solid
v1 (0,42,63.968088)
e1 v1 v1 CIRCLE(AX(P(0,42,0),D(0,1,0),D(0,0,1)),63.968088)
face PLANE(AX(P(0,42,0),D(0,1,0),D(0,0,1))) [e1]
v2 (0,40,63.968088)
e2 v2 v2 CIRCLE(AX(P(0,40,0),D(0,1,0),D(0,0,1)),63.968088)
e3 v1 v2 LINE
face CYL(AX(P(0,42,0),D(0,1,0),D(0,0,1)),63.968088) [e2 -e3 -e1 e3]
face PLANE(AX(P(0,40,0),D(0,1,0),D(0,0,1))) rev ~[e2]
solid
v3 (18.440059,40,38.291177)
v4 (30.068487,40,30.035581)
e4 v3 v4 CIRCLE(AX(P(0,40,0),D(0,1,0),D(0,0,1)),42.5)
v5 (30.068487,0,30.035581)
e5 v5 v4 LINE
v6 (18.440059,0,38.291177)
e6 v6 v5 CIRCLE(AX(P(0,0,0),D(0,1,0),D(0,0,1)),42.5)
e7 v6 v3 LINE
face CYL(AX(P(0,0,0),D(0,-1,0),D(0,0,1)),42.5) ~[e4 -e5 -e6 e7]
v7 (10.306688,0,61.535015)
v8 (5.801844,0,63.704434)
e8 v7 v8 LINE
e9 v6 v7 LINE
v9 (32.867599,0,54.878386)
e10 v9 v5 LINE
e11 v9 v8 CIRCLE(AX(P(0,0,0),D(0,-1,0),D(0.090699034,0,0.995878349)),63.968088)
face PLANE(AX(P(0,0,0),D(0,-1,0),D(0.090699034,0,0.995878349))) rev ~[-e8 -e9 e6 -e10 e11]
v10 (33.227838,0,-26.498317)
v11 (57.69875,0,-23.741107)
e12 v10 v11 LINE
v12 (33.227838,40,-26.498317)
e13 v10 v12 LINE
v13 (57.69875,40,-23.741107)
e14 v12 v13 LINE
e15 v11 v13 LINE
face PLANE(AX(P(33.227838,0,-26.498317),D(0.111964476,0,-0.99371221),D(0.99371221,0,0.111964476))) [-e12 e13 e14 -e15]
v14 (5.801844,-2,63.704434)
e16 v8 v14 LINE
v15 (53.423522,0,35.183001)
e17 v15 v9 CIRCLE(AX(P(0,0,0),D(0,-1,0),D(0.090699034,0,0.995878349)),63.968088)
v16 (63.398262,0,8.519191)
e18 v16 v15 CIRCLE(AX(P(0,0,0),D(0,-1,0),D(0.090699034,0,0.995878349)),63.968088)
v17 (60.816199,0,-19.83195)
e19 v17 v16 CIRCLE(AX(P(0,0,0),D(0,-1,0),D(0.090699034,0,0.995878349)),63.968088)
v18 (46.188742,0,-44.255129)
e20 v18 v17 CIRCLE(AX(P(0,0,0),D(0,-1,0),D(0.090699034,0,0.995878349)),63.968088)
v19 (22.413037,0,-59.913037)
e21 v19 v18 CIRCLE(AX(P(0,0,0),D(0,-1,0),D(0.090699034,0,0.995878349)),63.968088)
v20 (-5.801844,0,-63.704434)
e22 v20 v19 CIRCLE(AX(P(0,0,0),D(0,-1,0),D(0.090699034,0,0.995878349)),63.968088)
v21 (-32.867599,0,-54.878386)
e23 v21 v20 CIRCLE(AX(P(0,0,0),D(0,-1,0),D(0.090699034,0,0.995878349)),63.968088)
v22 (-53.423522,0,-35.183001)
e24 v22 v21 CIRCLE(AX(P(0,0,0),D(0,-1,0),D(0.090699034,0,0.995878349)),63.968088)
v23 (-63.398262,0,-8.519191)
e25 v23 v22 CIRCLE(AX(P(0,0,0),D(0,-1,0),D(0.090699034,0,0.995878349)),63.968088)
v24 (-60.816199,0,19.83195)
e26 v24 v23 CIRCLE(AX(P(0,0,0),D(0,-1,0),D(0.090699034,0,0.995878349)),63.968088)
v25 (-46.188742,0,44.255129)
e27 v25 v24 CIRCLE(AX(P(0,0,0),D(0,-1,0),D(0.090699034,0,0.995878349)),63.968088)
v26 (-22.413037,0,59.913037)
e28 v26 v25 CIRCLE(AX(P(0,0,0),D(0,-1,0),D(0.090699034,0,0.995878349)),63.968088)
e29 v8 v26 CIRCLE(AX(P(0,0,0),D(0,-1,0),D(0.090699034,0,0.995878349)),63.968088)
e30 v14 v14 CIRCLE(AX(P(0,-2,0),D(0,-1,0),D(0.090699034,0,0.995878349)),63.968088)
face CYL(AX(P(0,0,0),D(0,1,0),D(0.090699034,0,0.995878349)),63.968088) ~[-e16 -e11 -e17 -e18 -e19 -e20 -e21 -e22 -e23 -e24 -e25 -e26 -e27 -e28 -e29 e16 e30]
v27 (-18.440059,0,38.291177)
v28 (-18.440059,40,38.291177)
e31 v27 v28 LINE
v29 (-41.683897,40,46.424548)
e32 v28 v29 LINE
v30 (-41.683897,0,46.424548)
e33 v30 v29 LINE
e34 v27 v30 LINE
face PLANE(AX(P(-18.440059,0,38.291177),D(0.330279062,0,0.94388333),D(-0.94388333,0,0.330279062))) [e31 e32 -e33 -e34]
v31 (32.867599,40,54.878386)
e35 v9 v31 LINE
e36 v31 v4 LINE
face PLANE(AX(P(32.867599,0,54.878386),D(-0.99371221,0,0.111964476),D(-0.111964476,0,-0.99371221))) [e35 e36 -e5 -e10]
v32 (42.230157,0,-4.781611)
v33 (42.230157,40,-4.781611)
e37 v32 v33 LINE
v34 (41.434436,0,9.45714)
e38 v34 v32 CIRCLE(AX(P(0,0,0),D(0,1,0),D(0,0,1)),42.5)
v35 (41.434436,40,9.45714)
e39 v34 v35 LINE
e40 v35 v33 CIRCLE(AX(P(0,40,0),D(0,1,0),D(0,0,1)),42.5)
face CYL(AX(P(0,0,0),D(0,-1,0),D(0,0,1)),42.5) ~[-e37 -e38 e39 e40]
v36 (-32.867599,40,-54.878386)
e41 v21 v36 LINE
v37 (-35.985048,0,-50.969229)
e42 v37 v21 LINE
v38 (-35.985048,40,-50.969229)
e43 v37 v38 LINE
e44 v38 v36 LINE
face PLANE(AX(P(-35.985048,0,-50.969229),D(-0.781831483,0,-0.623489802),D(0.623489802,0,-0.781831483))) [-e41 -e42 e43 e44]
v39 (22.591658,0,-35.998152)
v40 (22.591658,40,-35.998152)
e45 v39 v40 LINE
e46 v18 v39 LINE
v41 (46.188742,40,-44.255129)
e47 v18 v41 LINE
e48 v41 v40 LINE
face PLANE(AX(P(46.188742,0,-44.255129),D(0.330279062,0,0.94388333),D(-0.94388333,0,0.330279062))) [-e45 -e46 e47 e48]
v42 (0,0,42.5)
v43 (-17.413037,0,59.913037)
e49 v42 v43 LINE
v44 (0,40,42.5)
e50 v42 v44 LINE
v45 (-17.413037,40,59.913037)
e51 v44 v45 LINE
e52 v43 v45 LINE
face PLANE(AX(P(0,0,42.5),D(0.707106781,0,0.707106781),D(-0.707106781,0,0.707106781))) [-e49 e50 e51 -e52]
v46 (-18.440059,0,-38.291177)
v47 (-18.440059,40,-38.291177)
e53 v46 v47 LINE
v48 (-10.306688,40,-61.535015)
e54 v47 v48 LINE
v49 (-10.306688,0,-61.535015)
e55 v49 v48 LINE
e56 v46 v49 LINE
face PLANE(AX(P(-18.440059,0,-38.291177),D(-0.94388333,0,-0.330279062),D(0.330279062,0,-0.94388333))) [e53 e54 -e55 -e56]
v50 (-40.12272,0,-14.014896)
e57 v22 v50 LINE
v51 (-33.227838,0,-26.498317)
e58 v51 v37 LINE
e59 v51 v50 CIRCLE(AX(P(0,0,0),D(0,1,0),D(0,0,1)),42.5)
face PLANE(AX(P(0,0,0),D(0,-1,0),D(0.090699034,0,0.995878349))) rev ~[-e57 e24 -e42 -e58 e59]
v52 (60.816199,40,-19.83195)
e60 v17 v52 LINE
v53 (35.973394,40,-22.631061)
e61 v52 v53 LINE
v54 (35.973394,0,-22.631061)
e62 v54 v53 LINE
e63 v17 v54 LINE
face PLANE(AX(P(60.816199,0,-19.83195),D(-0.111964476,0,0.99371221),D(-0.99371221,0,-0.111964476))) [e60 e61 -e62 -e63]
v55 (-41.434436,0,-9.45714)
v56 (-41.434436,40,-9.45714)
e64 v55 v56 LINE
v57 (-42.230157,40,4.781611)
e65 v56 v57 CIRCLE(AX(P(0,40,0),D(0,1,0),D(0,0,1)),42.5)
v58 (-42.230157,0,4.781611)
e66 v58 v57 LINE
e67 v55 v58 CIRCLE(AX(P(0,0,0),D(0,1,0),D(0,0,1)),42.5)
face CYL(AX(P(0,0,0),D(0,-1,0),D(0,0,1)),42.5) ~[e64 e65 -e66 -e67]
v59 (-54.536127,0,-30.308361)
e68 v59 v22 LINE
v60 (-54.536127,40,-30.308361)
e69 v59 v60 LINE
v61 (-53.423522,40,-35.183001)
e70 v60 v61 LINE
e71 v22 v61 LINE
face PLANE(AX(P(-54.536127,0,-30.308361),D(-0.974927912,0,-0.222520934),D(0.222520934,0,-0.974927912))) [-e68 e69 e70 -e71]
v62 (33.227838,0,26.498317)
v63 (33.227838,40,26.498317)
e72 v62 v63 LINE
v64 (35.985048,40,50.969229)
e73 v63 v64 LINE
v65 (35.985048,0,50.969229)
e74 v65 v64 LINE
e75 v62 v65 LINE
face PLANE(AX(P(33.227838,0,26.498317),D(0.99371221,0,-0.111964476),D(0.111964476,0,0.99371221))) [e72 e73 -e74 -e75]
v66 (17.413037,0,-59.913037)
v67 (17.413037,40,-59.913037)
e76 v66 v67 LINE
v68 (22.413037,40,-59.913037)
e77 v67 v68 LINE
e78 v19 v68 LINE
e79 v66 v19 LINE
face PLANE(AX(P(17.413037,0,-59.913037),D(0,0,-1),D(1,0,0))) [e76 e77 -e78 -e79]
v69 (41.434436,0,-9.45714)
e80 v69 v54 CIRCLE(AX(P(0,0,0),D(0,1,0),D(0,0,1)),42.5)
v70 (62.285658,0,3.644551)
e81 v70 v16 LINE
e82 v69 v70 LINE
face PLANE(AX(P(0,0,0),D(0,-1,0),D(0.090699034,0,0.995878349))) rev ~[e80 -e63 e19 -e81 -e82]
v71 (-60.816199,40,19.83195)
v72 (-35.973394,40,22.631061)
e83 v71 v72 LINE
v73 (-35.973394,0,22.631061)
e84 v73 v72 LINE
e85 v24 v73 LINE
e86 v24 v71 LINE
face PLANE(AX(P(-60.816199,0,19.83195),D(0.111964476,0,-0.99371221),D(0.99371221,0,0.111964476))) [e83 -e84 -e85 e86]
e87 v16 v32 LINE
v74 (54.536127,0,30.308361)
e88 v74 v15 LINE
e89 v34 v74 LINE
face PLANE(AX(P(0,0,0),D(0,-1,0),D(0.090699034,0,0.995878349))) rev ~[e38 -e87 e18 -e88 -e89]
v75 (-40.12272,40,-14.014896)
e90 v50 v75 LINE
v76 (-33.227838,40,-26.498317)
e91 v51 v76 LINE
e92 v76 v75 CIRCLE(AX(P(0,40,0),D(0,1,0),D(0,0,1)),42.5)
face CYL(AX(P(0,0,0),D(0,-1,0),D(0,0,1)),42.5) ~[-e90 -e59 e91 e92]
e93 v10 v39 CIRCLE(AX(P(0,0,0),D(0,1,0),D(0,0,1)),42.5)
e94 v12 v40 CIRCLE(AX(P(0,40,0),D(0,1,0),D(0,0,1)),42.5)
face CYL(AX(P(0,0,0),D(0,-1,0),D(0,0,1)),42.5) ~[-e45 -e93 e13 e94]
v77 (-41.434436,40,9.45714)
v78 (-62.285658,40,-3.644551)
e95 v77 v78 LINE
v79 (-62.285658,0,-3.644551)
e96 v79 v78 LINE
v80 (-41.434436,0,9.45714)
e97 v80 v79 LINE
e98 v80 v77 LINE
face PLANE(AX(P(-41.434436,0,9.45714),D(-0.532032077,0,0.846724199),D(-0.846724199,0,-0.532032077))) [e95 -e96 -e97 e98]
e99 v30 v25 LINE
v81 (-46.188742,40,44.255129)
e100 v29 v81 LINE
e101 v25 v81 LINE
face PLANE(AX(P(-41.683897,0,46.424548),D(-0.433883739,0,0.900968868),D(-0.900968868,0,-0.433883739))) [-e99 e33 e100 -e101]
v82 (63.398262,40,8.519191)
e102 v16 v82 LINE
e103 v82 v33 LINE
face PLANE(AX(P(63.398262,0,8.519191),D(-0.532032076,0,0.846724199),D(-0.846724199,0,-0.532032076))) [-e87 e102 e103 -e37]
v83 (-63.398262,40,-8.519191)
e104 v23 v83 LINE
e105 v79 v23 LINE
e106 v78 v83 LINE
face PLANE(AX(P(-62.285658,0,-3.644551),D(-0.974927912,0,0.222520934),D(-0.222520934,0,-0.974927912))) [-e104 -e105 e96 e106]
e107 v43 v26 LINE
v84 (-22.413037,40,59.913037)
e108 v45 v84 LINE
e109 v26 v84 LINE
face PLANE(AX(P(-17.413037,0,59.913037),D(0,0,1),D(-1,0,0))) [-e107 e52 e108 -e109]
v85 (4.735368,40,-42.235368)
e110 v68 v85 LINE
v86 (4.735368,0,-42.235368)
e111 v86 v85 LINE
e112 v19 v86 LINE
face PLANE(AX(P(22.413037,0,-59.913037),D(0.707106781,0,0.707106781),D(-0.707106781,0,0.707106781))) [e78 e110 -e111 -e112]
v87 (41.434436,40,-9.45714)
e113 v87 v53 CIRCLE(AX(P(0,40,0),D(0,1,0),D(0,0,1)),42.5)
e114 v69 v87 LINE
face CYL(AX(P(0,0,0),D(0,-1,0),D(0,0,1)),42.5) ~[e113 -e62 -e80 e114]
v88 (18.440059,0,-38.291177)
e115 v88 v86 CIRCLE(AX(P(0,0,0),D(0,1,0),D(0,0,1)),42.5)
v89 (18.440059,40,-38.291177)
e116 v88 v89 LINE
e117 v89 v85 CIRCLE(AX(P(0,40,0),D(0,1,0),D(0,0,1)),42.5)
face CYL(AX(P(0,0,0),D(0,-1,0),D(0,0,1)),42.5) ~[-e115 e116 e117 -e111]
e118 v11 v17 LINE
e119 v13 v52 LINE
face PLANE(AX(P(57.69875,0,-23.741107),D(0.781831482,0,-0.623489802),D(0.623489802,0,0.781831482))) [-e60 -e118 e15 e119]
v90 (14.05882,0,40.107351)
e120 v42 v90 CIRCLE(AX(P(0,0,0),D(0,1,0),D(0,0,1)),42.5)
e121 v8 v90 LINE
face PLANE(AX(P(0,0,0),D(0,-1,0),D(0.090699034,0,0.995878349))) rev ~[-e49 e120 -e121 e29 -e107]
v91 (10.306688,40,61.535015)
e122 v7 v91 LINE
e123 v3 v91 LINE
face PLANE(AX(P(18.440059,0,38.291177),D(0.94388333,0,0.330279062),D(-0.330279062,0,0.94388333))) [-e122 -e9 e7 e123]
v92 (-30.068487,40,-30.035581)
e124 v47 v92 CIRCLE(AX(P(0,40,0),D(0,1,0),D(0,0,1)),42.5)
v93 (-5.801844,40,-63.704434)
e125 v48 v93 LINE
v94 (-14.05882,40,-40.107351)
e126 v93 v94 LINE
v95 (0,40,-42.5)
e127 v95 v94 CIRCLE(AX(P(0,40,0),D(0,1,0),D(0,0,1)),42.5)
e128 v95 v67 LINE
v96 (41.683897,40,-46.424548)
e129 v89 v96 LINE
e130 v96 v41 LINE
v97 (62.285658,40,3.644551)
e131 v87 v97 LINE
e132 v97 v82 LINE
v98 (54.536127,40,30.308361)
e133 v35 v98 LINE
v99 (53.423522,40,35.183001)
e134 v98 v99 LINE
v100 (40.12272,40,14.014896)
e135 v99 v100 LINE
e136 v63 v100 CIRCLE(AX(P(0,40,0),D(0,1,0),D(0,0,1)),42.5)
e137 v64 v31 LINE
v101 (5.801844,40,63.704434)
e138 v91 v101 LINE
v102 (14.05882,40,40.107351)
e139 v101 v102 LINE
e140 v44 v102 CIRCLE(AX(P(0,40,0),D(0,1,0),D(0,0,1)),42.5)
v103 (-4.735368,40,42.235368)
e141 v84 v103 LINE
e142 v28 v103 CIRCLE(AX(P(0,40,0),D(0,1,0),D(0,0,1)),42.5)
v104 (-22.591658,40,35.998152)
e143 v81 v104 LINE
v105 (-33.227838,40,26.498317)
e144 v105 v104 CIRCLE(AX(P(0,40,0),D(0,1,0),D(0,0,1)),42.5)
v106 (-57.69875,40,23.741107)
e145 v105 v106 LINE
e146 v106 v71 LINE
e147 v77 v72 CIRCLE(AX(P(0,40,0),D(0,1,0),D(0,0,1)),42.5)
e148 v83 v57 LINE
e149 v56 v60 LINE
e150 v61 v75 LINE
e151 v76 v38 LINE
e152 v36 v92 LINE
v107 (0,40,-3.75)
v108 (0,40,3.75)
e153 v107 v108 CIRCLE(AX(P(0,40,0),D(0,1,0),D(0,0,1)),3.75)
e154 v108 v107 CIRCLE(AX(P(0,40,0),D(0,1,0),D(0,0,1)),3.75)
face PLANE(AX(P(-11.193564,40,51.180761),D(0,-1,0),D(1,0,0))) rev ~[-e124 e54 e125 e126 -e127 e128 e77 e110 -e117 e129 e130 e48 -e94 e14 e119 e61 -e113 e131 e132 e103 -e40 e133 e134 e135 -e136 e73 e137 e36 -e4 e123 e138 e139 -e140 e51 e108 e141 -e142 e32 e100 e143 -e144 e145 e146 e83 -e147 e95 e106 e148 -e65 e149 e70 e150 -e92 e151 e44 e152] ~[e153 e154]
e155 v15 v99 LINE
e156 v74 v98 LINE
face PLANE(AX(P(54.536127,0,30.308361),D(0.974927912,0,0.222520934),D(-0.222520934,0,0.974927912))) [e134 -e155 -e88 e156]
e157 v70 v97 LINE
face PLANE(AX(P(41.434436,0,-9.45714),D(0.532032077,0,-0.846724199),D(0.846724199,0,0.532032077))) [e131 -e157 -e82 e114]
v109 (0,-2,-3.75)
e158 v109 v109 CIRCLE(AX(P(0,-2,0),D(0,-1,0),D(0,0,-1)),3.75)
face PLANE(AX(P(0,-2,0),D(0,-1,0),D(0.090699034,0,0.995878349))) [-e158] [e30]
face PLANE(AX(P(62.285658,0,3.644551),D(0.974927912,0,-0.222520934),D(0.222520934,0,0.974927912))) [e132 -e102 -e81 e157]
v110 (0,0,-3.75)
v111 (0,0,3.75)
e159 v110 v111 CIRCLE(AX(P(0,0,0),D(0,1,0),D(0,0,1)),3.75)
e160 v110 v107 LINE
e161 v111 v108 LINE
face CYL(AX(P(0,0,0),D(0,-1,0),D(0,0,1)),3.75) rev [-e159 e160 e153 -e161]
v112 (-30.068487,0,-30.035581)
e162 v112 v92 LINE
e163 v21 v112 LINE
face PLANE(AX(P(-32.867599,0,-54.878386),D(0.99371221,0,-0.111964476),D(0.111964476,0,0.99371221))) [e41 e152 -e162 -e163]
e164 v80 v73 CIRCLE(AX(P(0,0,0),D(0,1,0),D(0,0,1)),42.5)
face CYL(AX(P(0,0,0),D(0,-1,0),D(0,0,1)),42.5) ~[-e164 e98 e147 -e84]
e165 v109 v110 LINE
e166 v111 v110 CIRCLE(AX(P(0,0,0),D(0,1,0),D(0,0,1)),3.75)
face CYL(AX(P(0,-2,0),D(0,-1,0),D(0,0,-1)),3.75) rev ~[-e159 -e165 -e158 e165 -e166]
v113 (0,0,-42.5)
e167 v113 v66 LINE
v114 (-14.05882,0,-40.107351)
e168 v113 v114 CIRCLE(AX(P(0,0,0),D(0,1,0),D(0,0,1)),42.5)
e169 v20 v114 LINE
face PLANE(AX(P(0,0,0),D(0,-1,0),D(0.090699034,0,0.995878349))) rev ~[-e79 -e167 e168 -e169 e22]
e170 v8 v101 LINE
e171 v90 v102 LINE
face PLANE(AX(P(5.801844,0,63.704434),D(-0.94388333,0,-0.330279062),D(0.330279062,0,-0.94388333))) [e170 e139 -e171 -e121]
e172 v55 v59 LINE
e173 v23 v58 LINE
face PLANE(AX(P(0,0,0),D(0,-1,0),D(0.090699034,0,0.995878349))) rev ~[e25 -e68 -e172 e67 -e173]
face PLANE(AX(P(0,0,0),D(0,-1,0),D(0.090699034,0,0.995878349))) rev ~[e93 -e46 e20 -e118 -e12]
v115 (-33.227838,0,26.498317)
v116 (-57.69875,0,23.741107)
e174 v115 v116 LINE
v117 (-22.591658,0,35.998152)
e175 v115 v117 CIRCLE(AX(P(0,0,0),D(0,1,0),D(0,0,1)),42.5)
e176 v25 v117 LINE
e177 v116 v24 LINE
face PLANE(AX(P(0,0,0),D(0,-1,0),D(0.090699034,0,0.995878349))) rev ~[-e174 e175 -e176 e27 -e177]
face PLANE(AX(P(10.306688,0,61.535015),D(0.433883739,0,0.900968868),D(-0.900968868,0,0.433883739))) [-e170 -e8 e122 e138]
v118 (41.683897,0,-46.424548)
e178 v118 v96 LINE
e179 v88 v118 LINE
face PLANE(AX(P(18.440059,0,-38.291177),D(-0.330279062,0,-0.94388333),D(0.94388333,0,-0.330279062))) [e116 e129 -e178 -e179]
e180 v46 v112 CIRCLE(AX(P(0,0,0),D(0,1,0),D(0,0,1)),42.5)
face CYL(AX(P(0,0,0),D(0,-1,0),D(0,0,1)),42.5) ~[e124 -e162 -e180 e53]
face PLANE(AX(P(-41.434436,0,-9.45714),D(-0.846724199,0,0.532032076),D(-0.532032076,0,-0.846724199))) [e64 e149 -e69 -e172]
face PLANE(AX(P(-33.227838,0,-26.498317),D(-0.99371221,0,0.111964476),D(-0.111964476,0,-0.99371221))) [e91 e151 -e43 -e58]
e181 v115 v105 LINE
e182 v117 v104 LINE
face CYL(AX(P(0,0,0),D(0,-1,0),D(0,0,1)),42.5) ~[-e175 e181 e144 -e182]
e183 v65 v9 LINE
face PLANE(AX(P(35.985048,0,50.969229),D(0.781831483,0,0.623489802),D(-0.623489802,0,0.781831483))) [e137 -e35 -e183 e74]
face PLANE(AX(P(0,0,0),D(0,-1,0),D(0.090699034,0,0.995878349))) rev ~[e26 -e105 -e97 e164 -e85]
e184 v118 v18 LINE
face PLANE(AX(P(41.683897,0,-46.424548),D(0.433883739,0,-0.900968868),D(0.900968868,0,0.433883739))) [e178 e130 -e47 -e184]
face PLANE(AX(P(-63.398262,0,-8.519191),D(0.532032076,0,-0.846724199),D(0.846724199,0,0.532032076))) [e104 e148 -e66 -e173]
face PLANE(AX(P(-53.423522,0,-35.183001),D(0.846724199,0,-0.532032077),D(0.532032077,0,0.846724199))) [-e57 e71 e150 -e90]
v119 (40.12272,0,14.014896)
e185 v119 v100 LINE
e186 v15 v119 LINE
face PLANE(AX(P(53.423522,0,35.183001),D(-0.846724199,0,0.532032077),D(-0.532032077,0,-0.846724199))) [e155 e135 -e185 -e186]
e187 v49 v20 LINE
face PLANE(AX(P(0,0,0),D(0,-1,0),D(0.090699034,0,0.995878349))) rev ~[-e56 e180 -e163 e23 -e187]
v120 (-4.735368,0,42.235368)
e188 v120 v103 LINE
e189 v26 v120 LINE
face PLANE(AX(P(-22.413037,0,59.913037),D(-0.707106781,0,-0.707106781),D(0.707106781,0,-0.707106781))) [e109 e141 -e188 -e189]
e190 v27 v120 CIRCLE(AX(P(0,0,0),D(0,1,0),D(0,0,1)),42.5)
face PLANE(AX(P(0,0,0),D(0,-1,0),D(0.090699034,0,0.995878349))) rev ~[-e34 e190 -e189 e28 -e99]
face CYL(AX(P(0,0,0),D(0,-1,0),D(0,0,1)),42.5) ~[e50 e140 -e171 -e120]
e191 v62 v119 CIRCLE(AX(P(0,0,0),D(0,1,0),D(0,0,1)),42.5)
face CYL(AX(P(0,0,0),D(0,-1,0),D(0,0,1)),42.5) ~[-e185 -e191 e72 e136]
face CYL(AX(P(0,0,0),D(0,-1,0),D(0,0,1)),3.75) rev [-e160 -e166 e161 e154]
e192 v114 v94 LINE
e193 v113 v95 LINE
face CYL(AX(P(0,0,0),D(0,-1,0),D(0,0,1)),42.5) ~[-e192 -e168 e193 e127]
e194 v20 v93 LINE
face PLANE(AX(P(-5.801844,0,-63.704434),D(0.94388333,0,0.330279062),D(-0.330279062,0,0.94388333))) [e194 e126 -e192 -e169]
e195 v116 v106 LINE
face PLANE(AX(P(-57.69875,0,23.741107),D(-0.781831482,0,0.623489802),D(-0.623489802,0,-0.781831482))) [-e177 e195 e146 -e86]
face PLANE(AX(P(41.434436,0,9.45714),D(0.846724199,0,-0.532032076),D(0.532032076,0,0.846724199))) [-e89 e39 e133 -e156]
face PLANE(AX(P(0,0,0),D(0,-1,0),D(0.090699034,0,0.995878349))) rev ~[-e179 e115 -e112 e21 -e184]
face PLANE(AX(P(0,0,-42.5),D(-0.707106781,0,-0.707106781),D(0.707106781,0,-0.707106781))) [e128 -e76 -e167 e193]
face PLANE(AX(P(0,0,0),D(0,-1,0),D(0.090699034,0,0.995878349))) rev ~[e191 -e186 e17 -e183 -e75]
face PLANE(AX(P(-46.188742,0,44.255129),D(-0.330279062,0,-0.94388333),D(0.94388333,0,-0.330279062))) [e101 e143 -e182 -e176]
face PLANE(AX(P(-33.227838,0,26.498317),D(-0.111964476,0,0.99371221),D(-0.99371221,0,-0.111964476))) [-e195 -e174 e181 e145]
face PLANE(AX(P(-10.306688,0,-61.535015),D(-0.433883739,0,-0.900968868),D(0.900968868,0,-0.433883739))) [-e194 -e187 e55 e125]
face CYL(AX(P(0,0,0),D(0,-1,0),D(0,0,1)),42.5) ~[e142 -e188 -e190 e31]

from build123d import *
from build123d.topology import SkipClean

# Parameters (mm, degrees)
SKETCH1_R           = 42.5
SKETCH1_R_2         = 3.75
BOSS_EXTRUDE1_DEPTH = 40
BOSS_EXTRUDE2_DEPTH = 40
SKETCH3_R           = 63.968087997
BOSS_EXTRUDE3_DEPTH = 2
BOSS_EXTRUDE4_START = 2
SKETCH4_R           = 63.968087997
BOSS_EXTRUDE4_DEPTH = 2
SKETCH6_R           = 3.75
CUT_EXTRUDE1_DEPTH  = 79


with BuildPart() as part:
    # Sketch1 → Boss-Extrude1 (new body)
    with BuildSketch(Plane(origin=(0, 0, 0), x_dir=(1, 0, 0), z_dir=(0, 1, 0))):
        with Locations(Location((0, 0, 0), (0, 0, 270))):
            Circle(SKETCH1_R)
        with Locations(Location((0, 0, 0), (0, 0, 270))):
            Circle(SKETCH1_R_2, mode=Mode.SUBTRACT)
    extrude(amount=BOSS_EXTRUDE1_DEPTH)

    # Sketch2 → Boss-Extrude2 (add)
    with BuildSketch(Plane.XZ):
        with BuildLine():
            Line((0, -42.5), (17.413037315, -59.913037315))
            Line((17.413037315, -59.913037315), (22.413037315, -59.913037315))
            Line((22.413037315, -59.913037315), (4.735367785, -42.235367785))
            ThreePointArc((4.735367785, -42.235367785), (2.3713782, -42.433790373), (0, -42.5))
        make_face()
        with BuildLine():
            Line((-18.440058912, -38.291176886), (-10.306688136, -61.535015142))
            Line((-10.306688136, -61.535015142), (-5.801843796, -63.704433837))
            Line((-5.801843796, -63.704433837), (-14.058820345, -40.107350579))
            ThreePointArc((-14.058820345, -40.107350579), (-16.2747937, -39.260426514), (-18.440058912, -38.291176886))
        make_face()
        with BuildLine():
            Line((-33.227838005, -26.498316579), (-35.985047598, -50.969228542))
            Line((-35.985047598, -50.969228542), (-32.867598589, -54.878385955))
            Line((-32.867598589, -54.878385955), (-30.068486686, -30.035580707))
            ThreePointArc((-30.068486686, -30.035580707), (-31.69754311, -28.311053685), (-33.227838005, -26.498316579))
        make_face()
        with BuildLine():
            Line((-41.434436268, -9.457139693), (-54.536127055, -30.308361133))
            Line((-54.536127055, -30.308361133), (-53.423522386, -35.183000694))
            Line((-53.423522386, -35.183000694), (-40.122720473, -14.014895714))
            ThreePointArc((-40.122720473, -14.014895714), (-40.842205363, -11.754329463), (-41.434436268, -9.457139693))
        make_face()
        with BuildLine():
            Line((-41.434436268, 9.457139693), (-62.285657708, -3.644551095))
            Line((-62.285657708, -3.644551095), (-63.398262378, -8.519190655))
            Line((-63.398262378, -8.519190655), (-42.230157397, 4.781611257))
            ThreePointArc((-42.230157397, 4.781611257), (-41.897567946, 7.130483868), (-41.434436268, 9.457139693))
        make_face()
        with BuildLine():
            Line((-33.227838005, 26.498316579), (-57.698749968, 23.741106986))
            Line((-57.698749968, 23.741106986), (-60.816198977, 19.831949574))
            Line((-60.816198977, 19.831949574), (-35.97339373, 22.631061476))
            ThreePointArc((-35.97339373, 22.631061476), (-34.654603358, 24.603017418), (-33.227838005, 26.498316579))
        make_face()
        with BuildLine():
            Line((-18.440058912, 38.291176886), (-41.683897168, 46.424547663))
            Line((-41.683897168, 46.424547663), (-46.188741508, 44.255128967))
            Line((-46.188741508, 44.255128967), (-22.59165825, 35.998152418))
            ThreePointArc((-22.59165825, 35.998152418), (-20.547869564, 37.202621633), (-18.440058912, 38.291176886))
        make_face()
        with BuildLine():
            Line((0, 42.5), (-17.413037315, 59.913037315))
            Line((-17.413037315, 59.913037315), (-22.413037315, 59.913037315))
            Line((-22.413037315, 59.913037315), (-4.735367785, 42.235367785))
            ThreePointArc((-4.735367785, 42.235367785), (-2.3713782, 42.433790373), (0, 42.5))
        make_face()
        with BuildLine():
            Line((18.440058912, 38.291176886), (10.306688136, 61.535015142))
            Line((10.306688136, 61.535015142), (5.801843796, 63.704433837))
            Line((5.801843796, 63.704433837), (14.058820345, 40.107350579))
            ThreePointArc((14.058820345, 40.107350579), (16.2747937, 39.260426514), (18.440058912, 38.291176886))
        make_face()
        with BuildLine():
            Line((33.227838005, 26.498316579), (35.985047598, 50.969228542))
            Line((35.985047598, 50.969228542), (32.867598589, 54.878385955))
            Line((32.867598589, 54.878385955), (30.068486686, 30.035580707))
            ThreePointArc((30.068486686, 30.035580707), (31.69754311, 28.311053685), (33.227838005, 26.498316579))
        make_face()
        with BuildLine():
            Line((41.434436268, 9.457139693), (54.536127055, 30.308361133))
            Line((54.536127055, 30.308361133), (53.423522386, 35.183000694))
            Line((53.423522386, 35.183000694), (40.122720473, 14.014895714))
            ThreePointArc((40.122720473, 14.014895714), (40.842205363, 11.754329463), (41.434436268, 9.457139693))
        make_face()
        with BuildLine():
            Line((41.434436268, -9.457139693), (62.285657708, 3.644551095))
            Line((62.285657708, 3.644551095), (63.398262378, 8.519190655))
            Line((63.398262378, 8.519190655), (42.230157397, -4.781611257))
            ThreePointArc((42.230157397, -4.781611257), (41.897567946, -7.130483868), (41.434436268, -9.457139693))
        make_face()
        with BuildLine():
            Line((33.227838005, -26.498316579), (57.698749968, -23.741106986))
            Line((57.698749968, -23.741106986), (60.816198977, -19.831949574))
            Line((60.816198977, -19.831949574), (35.97339373, -22.631061476))
            ThreePointArc((35.97339373, -22.631061476), (34.654603358, -24.603017418), (33.227838005, -26.498316579))
        make_face()
        with BuildLine():
            Line((18.440058912, -38.291176886), (41.683897168, -46.424547663))
            Line((41.683897168, -46.424547663), (46.188741508, -44.255128967))
            Line((46.188741508, -44.255128967), (22.59165825, -35.998152418))
            ThreePointArc((22.59165825, -35.998152418), (20.547869564, -37.202621633), (18.440058912, -38.291176886))
        make_face()
    extrude(amount=-BOSS_EXTRUDE2_DEPTH)

    # Sketch3 → Boss-Extrude3 (add)
    with BuildSketch(Plane.XZ):
        with Locations(Location((0, 0, 0), (0, 0, 84.796176724))):
            Circle(SKETCH3_R)
    extrude(amount=BOSS_EXTRUDE3_DEPTH)

    # Sketch6 → Cut-Extrude1 (cut)
    with SkipClean():  # the faces are left unmerged after this step: merging them gives an invalid solid
        with BuildSketch(Plane.XZ.offset(2)):
            with Locations(Location((0, 0, 0), (0, 0, 270))):
                Circle(SKETCH6_R)
        extrude(amount=-CUT_EXTRUDE1_DEPTH, mode=Mode.SUBTRACT)


with BuildPart() as body_2:
    # Sketch4 → Boss-Extrude4 (new body)
    with BuildSketch(Plane(origin=(0, 40, 0), x_dir=(1, 0, 0), z_dir=(0, 1, 0)).offset(BOSS_EXTRUDE4_START)):
        with Locations(Location((0, 0, 0), (0, 0, 270))):
            Circle(SKETCH4_R)
    extrude(amount=-BOSS_EXTRUDE4_DEPTH)


solid = Compound([part.part, body_2.part])
